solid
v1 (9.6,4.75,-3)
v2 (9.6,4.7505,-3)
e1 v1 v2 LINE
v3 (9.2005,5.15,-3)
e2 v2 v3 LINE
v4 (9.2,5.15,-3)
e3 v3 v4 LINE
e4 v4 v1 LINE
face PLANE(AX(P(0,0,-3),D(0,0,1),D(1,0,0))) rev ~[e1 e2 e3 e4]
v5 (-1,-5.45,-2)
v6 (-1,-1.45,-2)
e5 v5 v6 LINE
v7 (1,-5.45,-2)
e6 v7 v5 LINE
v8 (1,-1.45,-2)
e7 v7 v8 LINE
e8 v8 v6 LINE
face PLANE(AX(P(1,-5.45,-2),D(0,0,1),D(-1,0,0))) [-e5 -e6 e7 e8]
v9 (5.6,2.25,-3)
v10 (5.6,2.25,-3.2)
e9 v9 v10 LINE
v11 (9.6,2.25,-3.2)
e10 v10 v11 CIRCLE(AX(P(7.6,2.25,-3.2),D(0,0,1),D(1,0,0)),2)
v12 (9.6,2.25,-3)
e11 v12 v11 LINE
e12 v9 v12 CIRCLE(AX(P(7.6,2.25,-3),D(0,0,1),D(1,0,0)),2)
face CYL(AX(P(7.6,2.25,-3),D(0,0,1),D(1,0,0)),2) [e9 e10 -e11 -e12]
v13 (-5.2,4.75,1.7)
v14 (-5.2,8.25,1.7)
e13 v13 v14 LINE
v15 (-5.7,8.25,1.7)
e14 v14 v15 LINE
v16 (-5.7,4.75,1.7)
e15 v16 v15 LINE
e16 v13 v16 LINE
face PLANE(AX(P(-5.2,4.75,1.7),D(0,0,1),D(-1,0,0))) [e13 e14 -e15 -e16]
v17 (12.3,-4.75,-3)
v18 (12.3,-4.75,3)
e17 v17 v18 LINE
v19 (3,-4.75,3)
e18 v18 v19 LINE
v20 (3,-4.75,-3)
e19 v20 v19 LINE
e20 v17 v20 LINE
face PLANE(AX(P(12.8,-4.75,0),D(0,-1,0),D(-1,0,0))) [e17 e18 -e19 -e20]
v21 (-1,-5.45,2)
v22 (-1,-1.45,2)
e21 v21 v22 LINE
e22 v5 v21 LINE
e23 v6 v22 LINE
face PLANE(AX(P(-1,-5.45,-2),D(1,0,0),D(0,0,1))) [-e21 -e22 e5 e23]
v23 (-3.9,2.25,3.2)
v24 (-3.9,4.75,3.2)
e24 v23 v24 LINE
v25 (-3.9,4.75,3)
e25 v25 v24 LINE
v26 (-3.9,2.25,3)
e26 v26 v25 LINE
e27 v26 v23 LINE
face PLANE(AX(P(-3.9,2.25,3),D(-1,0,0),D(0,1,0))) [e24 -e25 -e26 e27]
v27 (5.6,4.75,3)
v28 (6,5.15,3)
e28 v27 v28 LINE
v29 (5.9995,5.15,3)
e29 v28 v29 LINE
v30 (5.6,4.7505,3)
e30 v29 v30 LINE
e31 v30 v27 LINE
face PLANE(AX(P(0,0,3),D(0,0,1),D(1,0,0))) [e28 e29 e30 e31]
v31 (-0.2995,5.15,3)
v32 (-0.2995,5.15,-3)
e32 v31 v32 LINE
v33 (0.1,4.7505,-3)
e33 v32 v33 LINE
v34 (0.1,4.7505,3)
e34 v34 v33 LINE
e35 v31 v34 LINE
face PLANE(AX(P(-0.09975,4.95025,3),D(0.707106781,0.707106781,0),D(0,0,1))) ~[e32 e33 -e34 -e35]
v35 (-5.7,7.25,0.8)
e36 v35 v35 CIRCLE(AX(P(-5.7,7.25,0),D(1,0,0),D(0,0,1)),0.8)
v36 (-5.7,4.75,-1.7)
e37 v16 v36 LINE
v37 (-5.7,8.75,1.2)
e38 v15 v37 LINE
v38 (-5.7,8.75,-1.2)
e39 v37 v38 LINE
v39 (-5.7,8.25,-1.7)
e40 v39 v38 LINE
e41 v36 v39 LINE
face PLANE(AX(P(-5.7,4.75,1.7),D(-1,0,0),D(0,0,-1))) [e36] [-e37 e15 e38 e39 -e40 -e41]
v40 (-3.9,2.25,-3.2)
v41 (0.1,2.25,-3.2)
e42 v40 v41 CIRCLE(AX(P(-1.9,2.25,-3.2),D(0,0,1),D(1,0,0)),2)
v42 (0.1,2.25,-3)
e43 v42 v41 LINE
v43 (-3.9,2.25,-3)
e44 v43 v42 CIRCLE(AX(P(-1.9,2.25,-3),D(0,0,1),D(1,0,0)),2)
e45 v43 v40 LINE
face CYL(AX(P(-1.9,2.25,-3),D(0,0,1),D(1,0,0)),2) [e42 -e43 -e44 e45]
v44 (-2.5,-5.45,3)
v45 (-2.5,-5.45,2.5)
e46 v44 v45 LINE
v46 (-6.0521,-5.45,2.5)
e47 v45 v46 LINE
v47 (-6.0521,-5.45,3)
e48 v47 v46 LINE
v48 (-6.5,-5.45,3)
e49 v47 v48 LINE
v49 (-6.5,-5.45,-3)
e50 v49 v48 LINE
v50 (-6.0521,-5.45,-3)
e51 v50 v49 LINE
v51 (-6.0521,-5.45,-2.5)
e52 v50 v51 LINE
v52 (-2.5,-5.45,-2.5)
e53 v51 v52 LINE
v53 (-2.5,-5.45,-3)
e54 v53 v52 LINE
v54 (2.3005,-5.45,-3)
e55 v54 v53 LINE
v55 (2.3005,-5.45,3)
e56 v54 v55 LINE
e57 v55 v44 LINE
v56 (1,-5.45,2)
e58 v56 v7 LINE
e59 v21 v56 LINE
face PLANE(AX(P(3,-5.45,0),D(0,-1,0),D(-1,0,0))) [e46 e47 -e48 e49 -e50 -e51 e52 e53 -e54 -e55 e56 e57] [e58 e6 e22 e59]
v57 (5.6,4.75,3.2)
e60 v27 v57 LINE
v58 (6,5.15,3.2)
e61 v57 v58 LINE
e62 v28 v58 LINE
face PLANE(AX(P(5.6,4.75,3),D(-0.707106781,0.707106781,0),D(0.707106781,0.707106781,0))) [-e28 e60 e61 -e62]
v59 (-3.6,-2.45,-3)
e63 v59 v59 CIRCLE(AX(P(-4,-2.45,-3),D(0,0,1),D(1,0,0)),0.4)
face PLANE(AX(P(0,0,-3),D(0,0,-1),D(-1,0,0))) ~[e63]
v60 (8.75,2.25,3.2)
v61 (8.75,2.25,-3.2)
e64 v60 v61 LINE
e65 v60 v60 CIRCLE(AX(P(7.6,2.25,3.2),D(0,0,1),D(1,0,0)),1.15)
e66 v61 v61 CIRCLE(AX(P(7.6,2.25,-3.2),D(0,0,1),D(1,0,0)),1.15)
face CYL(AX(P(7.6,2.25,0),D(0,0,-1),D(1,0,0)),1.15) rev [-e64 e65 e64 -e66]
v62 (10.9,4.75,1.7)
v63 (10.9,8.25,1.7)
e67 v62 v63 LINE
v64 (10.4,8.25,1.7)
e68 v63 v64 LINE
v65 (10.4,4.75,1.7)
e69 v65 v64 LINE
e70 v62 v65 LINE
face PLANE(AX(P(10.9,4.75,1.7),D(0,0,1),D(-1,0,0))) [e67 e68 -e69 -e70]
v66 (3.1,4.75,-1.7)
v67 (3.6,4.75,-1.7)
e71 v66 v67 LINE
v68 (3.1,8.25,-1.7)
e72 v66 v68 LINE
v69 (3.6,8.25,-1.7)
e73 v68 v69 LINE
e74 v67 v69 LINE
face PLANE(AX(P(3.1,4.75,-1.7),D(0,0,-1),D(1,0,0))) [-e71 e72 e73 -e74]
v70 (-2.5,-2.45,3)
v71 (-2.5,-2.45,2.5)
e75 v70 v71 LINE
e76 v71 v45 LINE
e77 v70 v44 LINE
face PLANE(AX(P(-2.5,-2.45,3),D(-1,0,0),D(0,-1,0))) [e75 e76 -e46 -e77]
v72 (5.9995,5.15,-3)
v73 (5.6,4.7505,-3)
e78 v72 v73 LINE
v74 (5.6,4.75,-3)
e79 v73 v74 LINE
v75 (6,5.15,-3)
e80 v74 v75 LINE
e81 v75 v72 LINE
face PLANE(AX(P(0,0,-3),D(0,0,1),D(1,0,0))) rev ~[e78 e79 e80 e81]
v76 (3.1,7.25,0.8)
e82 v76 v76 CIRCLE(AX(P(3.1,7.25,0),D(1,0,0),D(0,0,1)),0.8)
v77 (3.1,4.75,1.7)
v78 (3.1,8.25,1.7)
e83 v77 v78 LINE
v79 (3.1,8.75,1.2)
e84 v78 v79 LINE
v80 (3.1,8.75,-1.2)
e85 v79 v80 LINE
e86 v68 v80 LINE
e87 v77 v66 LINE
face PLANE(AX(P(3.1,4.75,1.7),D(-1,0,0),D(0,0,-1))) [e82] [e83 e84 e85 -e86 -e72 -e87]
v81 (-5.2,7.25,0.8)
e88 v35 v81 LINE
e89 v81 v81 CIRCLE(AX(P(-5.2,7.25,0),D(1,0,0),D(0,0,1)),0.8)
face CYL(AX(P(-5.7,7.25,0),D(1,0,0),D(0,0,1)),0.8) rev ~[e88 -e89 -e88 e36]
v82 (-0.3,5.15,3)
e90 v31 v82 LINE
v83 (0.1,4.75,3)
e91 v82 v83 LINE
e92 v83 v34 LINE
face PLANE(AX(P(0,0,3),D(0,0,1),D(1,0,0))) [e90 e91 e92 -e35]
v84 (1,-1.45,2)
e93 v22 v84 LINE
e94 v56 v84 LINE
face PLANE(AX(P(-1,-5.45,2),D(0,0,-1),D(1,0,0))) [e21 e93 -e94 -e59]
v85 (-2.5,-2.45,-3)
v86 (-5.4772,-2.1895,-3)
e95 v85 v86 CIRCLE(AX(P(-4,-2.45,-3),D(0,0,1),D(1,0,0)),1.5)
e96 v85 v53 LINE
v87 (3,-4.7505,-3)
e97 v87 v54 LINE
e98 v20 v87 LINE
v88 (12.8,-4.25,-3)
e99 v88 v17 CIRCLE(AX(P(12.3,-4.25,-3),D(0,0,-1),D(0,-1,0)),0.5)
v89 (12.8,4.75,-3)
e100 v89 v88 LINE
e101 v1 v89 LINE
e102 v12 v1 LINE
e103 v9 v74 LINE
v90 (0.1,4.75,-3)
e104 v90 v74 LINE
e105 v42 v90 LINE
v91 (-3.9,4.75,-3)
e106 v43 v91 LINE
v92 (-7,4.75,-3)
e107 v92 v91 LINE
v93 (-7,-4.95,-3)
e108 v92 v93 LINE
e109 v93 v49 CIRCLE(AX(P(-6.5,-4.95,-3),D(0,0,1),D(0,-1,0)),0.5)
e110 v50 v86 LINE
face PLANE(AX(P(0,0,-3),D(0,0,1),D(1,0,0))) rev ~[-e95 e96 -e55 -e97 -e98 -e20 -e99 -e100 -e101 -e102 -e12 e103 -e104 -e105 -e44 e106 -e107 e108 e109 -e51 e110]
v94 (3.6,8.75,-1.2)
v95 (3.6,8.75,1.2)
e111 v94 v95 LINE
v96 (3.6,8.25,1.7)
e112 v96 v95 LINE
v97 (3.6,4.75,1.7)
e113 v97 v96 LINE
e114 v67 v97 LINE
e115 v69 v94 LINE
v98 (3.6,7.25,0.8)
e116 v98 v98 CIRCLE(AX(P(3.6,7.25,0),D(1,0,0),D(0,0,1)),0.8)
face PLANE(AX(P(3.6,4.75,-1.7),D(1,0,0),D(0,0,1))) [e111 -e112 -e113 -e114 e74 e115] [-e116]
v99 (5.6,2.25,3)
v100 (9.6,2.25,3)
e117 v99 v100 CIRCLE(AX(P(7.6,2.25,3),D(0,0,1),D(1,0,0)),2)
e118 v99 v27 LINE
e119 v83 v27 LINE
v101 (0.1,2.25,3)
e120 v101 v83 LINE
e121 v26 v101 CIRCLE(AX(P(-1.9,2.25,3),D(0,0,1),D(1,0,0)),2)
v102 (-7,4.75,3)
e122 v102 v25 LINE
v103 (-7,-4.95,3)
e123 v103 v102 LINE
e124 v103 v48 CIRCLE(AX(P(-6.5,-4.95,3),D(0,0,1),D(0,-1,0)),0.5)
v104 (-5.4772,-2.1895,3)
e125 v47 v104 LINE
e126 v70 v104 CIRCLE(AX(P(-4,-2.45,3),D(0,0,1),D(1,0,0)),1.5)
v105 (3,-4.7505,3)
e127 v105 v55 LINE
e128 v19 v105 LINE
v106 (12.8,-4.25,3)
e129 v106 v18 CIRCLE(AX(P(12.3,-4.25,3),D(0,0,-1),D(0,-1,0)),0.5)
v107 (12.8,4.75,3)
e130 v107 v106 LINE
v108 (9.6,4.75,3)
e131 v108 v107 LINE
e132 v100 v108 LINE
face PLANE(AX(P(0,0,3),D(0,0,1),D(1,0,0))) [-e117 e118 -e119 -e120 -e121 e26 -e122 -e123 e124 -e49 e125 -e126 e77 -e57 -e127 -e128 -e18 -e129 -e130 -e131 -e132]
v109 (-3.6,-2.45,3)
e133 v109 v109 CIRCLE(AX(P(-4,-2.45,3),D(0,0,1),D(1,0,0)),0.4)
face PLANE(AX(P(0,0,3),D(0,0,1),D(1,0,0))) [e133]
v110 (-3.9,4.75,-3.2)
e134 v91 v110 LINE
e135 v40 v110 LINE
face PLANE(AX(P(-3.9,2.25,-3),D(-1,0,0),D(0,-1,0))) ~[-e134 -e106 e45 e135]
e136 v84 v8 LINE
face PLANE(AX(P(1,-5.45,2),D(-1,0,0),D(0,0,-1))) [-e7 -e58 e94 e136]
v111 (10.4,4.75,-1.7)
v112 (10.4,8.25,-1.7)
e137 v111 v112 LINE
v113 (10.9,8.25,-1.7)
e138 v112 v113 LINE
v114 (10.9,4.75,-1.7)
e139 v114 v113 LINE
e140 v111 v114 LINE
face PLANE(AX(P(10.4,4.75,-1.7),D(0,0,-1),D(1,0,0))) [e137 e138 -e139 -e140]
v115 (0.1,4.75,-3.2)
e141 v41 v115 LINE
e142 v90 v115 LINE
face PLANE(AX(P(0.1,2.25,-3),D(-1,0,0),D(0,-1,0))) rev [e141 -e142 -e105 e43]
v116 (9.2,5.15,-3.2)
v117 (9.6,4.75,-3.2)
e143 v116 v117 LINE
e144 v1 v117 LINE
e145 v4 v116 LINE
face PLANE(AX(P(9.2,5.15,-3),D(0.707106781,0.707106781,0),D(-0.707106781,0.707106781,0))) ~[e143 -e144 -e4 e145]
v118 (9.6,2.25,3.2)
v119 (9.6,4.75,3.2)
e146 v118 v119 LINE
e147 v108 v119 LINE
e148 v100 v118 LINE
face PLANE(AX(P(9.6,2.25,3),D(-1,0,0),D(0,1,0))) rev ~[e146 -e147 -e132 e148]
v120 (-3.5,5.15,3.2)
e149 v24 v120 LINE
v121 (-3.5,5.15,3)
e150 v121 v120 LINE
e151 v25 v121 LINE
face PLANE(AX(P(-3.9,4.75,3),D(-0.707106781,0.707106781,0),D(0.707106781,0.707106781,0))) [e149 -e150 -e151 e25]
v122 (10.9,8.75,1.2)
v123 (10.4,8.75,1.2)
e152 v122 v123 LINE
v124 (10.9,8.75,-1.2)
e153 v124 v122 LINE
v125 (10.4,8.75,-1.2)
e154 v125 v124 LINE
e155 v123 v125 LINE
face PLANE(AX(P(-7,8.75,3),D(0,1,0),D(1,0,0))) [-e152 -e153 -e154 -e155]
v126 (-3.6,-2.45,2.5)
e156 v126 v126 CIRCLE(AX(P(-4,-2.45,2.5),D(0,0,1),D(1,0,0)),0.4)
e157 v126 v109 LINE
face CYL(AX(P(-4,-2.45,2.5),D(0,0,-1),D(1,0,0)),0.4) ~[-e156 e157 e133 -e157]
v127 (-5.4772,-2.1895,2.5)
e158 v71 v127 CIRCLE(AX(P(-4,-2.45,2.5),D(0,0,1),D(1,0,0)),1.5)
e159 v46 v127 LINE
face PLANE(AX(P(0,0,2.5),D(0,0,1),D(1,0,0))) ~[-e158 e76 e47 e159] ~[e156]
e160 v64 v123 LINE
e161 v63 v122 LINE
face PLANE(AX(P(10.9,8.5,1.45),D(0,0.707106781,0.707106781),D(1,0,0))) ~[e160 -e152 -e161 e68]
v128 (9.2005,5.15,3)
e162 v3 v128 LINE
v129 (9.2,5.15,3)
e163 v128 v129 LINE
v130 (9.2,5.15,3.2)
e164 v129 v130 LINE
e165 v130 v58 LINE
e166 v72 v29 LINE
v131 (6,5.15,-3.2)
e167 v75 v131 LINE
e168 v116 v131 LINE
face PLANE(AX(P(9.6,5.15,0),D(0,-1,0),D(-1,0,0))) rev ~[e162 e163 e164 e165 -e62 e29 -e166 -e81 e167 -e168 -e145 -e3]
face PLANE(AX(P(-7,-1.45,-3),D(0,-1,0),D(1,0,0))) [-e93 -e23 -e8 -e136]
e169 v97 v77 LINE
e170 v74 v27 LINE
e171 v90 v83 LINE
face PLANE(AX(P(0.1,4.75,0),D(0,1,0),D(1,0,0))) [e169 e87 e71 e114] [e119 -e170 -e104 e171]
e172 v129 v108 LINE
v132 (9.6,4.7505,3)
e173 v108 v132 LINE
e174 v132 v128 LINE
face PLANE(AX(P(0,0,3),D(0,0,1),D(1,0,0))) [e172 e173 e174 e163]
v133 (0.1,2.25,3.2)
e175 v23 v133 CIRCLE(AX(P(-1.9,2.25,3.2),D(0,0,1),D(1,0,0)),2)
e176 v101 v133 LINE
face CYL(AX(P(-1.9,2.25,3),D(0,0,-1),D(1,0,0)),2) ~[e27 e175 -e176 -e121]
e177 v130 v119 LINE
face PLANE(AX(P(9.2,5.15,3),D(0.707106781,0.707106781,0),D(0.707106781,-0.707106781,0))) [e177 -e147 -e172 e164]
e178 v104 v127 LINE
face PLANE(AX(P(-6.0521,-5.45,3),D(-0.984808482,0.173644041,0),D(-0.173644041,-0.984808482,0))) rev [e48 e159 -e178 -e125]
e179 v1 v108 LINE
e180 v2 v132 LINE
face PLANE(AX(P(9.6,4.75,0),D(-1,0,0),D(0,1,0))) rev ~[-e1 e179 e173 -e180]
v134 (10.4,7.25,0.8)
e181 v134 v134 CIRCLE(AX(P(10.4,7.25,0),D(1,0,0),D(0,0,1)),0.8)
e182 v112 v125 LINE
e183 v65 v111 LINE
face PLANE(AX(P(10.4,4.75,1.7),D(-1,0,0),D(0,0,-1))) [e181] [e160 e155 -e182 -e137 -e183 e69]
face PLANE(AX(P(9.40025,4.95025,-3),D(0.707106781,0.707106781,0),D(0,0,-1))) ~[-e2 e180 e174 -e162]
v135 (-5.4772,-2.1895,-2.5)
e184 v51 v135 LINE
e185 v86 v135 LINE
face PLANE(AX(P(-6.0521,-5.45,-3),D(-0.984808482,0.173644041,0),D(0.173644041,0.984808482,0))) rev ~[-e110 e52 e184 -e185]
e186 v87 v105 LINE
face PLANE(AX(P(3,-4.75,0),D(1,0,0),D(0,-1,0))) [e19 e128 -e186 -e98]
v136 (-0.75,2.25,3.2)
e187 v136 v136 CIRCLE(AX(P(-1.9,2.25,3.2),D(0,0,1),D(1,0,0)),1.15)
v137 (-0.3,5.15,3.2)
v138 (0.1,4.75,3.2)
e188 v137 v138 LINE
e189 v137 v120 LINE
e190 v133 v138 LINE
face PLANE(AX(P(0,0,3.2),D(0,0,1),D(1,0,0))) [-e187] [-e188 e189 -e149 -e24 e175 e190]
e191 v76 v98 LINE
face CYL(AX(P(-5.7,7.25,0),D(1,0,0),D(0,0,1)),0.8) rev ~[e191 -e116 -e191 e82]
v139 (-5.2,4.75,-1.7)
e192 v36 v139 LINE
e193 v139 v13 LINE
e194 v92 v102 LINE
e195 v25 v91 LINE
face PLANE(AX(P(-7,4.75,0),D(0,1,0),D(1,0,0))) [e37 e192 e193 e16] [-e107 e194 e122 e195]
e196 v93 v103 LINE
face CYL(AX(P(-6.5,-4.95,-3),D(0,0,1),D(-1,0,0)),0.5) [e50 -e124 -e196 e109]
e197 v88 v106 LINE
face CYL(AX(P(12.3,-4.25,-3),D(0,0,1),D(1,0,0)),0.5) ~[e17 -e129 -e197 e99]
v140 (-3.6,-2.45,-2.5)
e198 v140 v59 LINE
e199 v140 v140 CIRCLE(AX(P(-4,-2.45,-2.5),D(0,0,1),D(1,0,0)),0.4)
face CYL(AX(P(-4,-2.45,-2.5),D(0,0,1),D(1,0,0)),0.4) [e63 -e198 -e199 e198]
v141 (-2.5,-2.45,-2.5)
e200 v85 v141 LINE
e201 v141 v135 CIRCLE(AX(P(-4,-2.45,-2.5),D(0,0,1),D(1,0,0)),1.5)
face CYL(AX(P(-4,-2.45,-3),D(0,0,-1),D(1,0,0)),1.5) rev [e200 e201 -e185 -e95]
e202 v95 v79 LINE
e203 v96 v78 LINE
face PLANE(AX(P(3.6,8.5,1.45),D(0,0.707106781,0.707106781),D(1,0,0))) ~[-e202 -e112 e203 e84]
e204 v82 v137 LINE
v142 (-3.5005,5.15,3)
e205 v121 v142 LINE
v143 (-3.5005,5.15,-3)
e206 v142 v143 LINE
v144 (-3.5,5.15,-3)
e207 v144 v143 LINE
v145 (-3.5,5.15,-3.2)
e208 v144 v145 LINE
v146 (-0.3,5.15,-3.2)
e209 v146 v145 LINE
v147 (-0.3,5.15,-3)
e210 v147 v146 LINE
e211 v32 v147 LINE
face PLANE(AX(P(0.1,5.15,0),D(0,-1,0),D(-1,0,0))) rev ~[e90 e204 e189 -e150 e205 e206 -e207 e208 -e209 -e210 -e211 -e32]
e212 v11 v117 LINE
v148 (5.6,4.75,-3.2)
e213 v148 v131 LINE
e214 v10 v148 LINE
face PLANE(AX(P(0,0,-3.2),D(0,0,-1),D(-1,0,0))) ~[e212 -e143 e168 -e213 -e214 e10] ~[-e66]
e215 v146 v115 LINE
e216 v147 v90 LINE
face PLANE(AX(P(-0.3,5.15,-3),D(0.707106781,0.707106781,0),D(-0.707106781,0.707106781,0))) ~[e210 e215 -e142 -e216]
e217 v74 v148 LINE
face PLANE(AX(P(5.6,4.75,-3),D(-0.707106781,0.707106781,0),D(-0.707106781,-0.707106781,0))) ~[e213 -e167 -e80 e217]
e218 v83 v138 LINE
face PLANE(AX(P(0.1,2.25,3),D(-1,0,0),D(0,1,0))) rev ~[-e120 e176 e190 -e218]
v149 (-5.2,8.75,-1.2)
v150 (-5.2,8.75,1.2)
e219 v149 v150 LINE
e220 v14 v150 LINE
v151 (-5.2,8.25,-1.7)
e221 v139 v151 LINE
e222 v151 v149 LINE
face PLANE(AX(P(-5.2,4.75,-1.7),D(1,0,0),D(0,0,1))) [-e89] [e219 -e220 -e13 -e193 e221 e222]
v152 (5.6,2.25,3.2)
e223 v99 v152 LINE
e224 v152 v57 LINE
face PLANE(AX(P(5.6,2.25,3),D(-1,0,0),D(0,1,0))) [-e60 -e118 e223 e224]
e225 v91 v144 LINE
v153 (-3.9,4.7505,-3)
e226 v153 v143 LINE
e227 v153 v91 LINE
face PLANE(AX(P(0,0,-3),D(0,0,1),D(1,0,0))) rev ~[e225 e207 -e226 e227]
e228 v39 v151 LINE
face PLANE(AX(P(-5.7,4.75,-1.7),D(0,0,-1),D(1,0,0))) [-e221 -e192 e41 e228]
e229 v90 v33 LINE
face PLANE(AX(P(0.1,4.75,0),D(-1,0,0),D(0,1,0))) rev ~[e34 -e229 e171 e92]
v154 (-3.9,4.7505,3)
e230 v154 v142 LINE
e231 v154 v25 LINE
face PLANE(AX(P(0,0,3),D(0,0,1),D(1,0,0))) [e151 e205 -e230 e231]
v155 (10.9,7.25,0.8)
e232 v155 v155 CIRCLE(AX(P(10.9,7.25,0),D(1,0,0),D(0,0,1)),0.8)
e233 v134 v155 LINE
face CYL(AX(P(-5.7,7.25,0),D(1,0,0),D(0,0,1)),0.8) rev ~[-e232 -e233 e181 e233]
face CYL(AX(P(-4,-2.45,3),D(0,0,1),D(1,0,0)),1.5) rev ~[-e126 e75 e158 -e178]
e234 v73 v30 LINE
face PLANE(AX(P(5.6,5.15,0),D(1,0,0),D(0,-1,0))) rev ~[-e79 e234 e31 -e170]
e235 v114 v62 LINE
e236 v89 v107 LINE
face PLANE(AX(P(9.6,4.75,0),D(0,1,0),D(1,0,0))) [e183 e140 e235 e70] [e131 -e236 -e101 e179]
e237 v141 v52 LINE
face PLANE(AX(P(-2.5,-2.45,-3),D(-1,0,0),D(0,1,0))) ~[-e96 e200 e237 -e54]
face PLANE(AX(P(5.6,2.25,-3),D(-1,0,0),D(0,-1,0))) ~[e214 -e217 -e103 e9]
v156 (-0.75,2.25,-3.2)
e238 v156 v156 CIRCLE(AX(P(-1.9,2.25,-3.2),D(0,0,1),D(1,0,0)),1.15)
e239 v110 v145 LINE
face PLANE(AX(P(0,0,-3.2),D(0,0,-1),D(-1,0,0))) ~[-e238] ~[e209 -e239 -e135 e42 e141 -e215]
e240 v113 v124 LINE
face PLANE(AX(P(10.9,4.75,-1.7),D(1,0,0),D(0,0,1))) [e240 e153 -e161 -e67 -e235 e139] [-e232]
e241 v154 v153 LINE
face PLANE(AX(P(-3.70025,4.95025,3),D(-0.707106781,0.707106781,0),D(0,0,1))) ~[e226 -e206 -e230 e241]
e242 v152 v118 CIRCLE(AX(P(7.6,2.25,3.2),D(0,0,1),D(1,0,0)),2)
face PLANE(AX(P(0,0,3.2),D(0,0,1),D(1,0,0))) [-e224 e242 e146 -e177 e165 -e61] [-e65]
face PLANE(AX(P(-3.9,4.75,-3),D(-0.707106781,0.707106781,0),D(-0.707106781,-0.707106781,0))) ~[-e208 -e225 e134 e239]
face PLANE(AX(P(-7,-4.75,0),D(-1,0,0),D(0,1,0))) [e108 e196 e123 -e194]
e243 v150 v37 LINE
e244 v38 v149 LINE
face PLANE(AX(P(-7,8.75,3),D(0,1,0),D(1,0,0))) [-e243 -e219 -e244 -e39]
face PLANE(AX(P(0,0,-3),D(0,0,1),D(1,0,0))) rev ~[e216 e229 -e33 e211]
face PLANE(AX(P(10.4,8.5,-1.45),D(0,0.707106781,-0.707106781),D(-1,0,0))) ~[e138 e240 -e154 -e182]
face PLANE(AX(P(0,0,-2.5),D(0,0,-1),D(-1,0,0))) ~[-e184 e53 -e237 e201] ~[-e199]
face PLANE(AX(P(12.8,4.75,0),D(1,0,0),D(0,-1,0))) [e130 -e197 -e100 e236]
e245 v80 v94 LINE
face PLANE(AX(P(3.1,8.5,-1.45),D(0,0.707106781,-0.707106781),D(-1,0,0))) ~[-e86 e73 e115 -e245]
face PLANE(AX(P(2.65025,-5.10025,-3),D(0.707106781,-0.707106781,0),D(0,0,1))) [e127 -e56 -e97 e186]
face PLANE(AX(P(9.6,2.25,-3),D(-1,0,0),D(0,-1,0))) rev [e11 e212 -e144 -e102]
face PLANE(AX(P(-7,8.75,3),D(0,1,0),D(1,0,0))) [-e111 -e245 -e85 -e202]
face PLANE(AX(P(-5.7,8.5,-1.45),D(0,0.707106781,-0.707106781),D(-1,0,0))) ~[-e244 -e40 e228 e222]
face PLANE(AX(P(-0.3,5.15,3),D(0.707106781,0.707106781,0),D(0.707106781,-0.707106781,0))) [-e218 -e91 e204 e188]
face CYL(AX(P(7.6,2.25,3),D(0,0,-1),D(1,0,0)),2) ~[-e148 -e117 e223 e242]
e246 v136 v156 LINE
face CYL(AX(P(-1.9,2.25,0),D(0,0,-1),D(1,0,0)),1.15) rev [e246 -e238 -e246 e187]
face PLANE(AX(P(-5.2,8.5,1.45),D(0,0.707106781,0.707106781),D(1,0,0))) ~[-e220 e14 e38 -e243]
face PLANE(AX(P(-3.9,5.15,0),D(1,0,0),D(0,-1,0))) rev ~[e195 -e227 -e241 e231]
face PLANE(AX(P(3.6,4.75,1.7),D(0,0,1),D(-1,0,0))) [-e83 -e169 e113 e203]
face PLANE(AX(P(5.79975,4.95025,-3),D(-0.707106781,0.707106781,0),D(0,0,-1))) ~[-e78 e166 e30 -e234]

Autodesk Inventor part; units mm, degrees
ref_plane "YZ Plane" through (0, 0, 0) normal (1, 0, 0) x (0, 1, 0)
ref_plane "XZ Plane" through (0, 0, 0) normal (0, 1, 0) x (-1, 0, 0)
ref_plane "XY Plane" through (0, 0, 0) normal (0, 0, 1) x (1, 0, 0)
sketch "Sketch2" plane through (0, 0, 0) normal (0, 0, 1) x (1, 0, 0)
  line L0 (-7, 4.75) -> (12.8, 4.75)
  line L1 (12.8, 4.75) -> (12.8, -4.75)
  line L2 (12.8, -4.75) -> (-7, -4.75)
  line L3 (-7, -4.75) -> (-7, 4.75)
  line L4 (-3.9, 4.75) -> (0.1, 4.75)
  line L5 (0.1, 4.75) -> (0.1, 5.15)
  line L6 (0.1, 5.15) -> (-3.9, 5.15)
  line L7 (-3.9, 5.15) -> (-3.9, 4.75)
  line L8 (5.6, 4.75) -> (9.6, 4.75)
  line L9 (9.6, 4.75) -> (9.6, 5.15)
  line L10 (9.6, 5.15) -> (5.6, 5.15)
  line L11 (5.6, 5.15) -> (5.6, 4.75)
  line L12 (-7, -4.75) -> (3, -4.75)
  line L13 (3, -4.75) -> (3, -5.45)
  line L14 (3, -5.45) -> (-7, -5.45)
  line L15 (-7, -5.45) -> (-7, -4.75)
  circle A0 centre (-1.9, 2.25) radius 1.15
  circle A1 centre (7.6, 2.25) radius 1.15
  point P0 (0, 0)
  dimension "d2" = 19.8
  dimension "d3" = 9.5
  dimension "d4" = 7
  dimension "d5" = 4.75
  dimension "d6" = 0.4
  dimension "d8" = 0.4
  dimension "d10" = 4
  dimension "d11" = 4
  dimension "d13" = 10
  dimension "d14" = 5.1
  dimension "d15" = 9.5
  dimension "d16" = 2
  dimension "d17" = 2
  dimension "d18" = 3.2
  dimension "d21" = 2.3
  dimension "d22" = 2.3
  dimension "d80" = 7.2
  dimension "d81" = 2.5
  dimension "d82" = 2.5
  dimension "d83" = 10.2
extrude "Extrusion1" add sketch "Sketch2" along normal mid plane 6
chamfer "Chamfer1" distance 0.4 angle 45 4 edges at (-3.9, 5.15, 0) (0.1, 5.15, 0) (5.6, 5.15, 0) (9.6, 5.15, 0)
chamfer "Chamfer3" distance 0.7 angle 45 1 edges at (3, -5.45, 0)
sketch "Sketch3" plane through (0, 0, 3) normal (0, 0, 1) x (1, 0, 0)
  line L0 (9.2, 5.15) -> (9.6, 4.75) projected
  line L1 (9.6, 5.15) -> (5.6, 5.15) projected
  line L2 (5.6, 4.75) -> (6, 5.15) projected
  line L3 (-0.3, 5.15) -> (0.1, 4.75) projected
  line L4 (0.1, 5.15) -> (-3.9, 5.15) projected
  line L5 (-3.9, 4.75) -> (-3.5, 5.15) projected
  circle A0 centre (7.6, 2.25) radius 1.15 projected
  circle A1 centre (-1.9, 2.25) radius 1.15 projected
  circle A2 centre (-1.9, 2.25) radius 2
  circle A3 centre (7.6, 2.25) radius 2
  line L6 (-3.9, 2.25) -> (-3.9, 4.75)
  line L7 (0.1, 2.25) -> (0.1, 4.75)
  line L8 (5.6, 2.25) -> (5.6, 4.75)
  line L9 (9.6, 2.25) -> (9.6, 4.75)
  point P0 (0, 0)
  dimension "d28" = 4
  dimension "d29" = 4
  dimension "d30" = 4
extrude "Extrusion2" add sketch "Sketch3" along normal blind 0.2
mirror "Mirror1" about plane through (0, 0, 0) normal (0, 0, 1) of "Extrusion2"
sketch "Sketch4" plane through (-7, -5.45, -3) normal (0, -1, 0) x (1, 0, 0)
  line L0 (6, 5) -> (8, 5)
  line L1 (8, 5) -> (8, 1)
  line L2 (8, 1) -> (6, 1)
  line L3 (6, 1) -> (6, 5)
  point P0 (7, 3)
  dimension "d33" = 2
  dimension "d34" = 4
  dimension "d35" = 1
  dimension "d36" = 2
extrude "Extrusion3" cut sketch "Sketch4" against normal blind 4
sketch "Sketch5" plane through (-7, 4.75, 3) normal (0, 1, 0) x (1, 0, 0)
  line L0 (7.1, 6) -> (12.6, 6)
  line L1 (12.6, 0) -> (7.1, 0)
  line L2 (19.6, 0) -> (16.4, 0)
  line L3 (16.4, 6) -> (19.6, 6)
  line L4 (1.3, 4.7) -> (1.8, 4.7)
  line L5 (1.8, 4.7) -> (1.8, 1.3)
  line L6 (1.8, 1.3) -> (1.3, 1.3)
  line L7 (1.3, 1.3) -> (1.3, 4.7)
  line L8 (10.1, 4.7) -> (10.6, 4.7)
  line L9 (10.6, 4.7) -> (10.6, 1.3)
  line L10 (10.6, 1.3) -> (10.1, 1.3)
  line L11 (10.1, 1.3) -> (10.1, 4.7)
  line L12 (-0.2, 3) -> (19.6, 3) construction
  line L13 (17.4, 4.7) -> (17.9, 4.7)
  line L14 (17.9, 4.7) -> (17.9, 1.3)
  line L15 (17.9, 1.3) -> (17.4, 1.3)
  line L16 (17.4, 1.3) -> (17.4, 4.7)
  line L17 (0, 0) -> (0, 6)
  line L18 (0, 6) -> (3.1, 6)
  line L19 (0, 0) -> (0, 6)
  line L20 (19.8, 0) -> (16.6, 0)
  line L21 (19.8, 6) -> (19.8, 0)
  line L22 (0, 6) -> (3.1, 6)
  line L23 (3.1, 0) -> (3.1, 6)
  line L24 (3.1, 0) -> (0, 0)
  line L25 (12.6, 0) -> (12.6, 6)
  line L26 (7.1, 6) -> (12.6, 6)
  line L27 (7.1, 6) -> (7.1, 0)
  line L28 (12.6, 0) -> (7.1, 0)
  line L29 (16.4, 6) -> (16.4, 0)
  line L30 (3.1, 0) -> (3.1, 6)
  line L31 (3.1, 0) -> (0, 0)
  line L32 (12.6, 0) -> (12.6, 6)
  line L33 (7.1, 6) -> (7.1, 0)
  line L34 (16.6, 6) -> (16.6, 0)
  line L35 (16.6, 6) -> (19.8, 6)
  line L36 (3.1, 0) -> (0.4, 0) projected
  line L37 (1.55, 4.7) -> (1.55, 1.3) construction
  line L38 (10.35, 4.7) -> (10.35, 1.3) construction
  line L39 (17.65, 4.7) -> (17.65, 1.3) construction
  point P0 (7, 3)
  dimension "d39" = 3.4
  dimension "d40" = 3.4
  dimension "d41" = 0.5
  dimension "d42" = 0.5
  dimension "d43" = 1.7
  dimension "d44" = 1.7
  dimension "d46" = 9.3
  dimension "d47" = 3.4
  dimension "d48" = 0.5
  dimension "d49" = 1.7
  dimension "d50" = 16.6
  dimension "d87" = 8.8
  dimension "d88" = 7.3
  dimension "d89" = 3.1
  dimension "d90" = 1.55
  dimension "d91" = 6
  dimension "d92" = 3
extrude "Extrusion4" add sketch "Sketch5" along normal blind 4 contours L4 L5 L6 L7 | L8 L9 L10 L11 | L13 L14 L15 L16
chamfer "Chamfer2" distance 0.5 angle 45 6 edges at (-5.45, 8.75, 1.7) (-5.45, 8.75, -1.7) (3.35, 8.75, -1.7) (3.35, 8.75, 1.7) (10.65, 8.75, -1.7) (10.65, 8.75, 1.7)
sketch "Sketch6" plane through (-5.7, 4.75, -1.7) normal (-1, 0, 0) x (0, 0, 1)
  line L0 (0, 0) -> (0, 3.5) projected
  line L1 (3.4, 0) -> (3.4, 3.5) projected
  line L2 (0.5, 4) -> (2.9, 4) projected
  point P0 (1.7, -4.75)
  point P1 (1.7, 2.5)
  dimension "d56" = 3.4
  dimension "d57" = 1.7
  dimension "d58" = 1.5
hole "Hole1" at (-5.7, 7.25, 0) direction (1, 0, 0) diameter 1.6 end through all
sketch "Sketch7" plane through (0, 0, 3) normal (0, 0, 1) x (1, 0, 0)
  line L0 (-7, 4.75) -> (-7, -5.45) projected
  line L1 (-7, -5.45) -> (3, -5.45) projected
  line L2 (-4, -5.45) -> (-4, -2.45) construction
  line L3 (-5.5, -5.45) -> (-5.5, -2.45)
  line L4 (-2.5, -2.45) -> (-2.5, -5.45)
  arc A0 (-5.5, -5.45) -> (-2.5, -5.45) centre (-4, -5.45) ccw
  arc A1 (-2.5, -2.45) -> (-5.5, -2.45) centre (-4, -2.45) ccw
  point P0 (2.6, -5.45)
  point P1 (0, 0)
  point P2 (-4, -3.95)
  dimension "d66" = 3
  dimension "d68" = 3
  dimension "d69" = 3
extrude "Extrusion5" cut sketch "Sketch7" against normal blind 0.5
sketch "Sketch8" plane through (0, 0, 2.5) normal (0, 0, 1) x (1, 0, 0)
  arc A0 (-2.5, -2.45) -> (-5.5, -2.45) centre (-4, -2.45) ccw projected
  circle A1 centre (-4, -2.45) radius 0.4
  point P0 (0, 0)
  dimension "d72" = 0.8
extrude "Extrusion6" add sketch "Sketch8" along normal up to surface (0.5 mm away)
mirror "Mirror2" about plane through (0, 0, 0) normal (0, 0, 1) of "Extrusion5", "Extrusion6"
sketch "Sketch9" plane through (0, 0, -3) normal (0, 0, -1) x (-1, 0, 0)
  arc A0 (5.5, -2.45) -> (2.5, -2.45) centre (4, -2.45) ccw projected
  line L0 (5.5, -2.45) -> (5.5, -5.45) projected
  line L1 (5.5, -5.45) -> (7, -5.45) projected
  line L2 (6.0521, -5.45) -> (5.4772, -2.1895)
  line L3 (6.0521, -5.45) -> (5.5, -5.45)
  point P0 (0, 0)
  dimension "d75" = 10
extrude "Extrusion7" cut sketch "Sketch9" against normal up to surface (0.5 mm away)
mirror "Mirror3" about plane through (0, 0, 0) normal (0, 0, 1) of "Extrusion7"
fillet "Fillet1" radius 0.5 2 edges at (12.8, -4.75, 0) (-7, -5.45, 0)
equation "\"d5\" = 0.5 * d3"
equation "\"d8\" = d6"
equation "\"d11\" = d10"
equation "\"d16\" = 0.5 * d10"
equation "\"d17\" = 0.5 * d11"
equation "\"d22\" = d21"
equation "\"d82\" = d81"
equation "\"d29\" = d28"
equation "\"d30\" = d29"
equation "\"d35\" = 0.5 * d33"
equation "\"d36\" = 0.5 * d34"
equation "\"d40\" = d39"
equation "\"d42\" = d41"
equation "\"d43\" = 0.5 * d39"
equation "\"d44\" = 0.5 * d40"
equation "\"d47\" = d39"
equation "\"d48\" = d41"
equation "\"d49\" = 0.5 * d47"
equation "\"d90\" = 0.5 * d89"
equation "\"d92\" = 0.5 * d91"
equation "\"d57\" = 0.5 * d56"
properties part number "KW-5A-125250V_body#" material "PC_ABS Plastic"
